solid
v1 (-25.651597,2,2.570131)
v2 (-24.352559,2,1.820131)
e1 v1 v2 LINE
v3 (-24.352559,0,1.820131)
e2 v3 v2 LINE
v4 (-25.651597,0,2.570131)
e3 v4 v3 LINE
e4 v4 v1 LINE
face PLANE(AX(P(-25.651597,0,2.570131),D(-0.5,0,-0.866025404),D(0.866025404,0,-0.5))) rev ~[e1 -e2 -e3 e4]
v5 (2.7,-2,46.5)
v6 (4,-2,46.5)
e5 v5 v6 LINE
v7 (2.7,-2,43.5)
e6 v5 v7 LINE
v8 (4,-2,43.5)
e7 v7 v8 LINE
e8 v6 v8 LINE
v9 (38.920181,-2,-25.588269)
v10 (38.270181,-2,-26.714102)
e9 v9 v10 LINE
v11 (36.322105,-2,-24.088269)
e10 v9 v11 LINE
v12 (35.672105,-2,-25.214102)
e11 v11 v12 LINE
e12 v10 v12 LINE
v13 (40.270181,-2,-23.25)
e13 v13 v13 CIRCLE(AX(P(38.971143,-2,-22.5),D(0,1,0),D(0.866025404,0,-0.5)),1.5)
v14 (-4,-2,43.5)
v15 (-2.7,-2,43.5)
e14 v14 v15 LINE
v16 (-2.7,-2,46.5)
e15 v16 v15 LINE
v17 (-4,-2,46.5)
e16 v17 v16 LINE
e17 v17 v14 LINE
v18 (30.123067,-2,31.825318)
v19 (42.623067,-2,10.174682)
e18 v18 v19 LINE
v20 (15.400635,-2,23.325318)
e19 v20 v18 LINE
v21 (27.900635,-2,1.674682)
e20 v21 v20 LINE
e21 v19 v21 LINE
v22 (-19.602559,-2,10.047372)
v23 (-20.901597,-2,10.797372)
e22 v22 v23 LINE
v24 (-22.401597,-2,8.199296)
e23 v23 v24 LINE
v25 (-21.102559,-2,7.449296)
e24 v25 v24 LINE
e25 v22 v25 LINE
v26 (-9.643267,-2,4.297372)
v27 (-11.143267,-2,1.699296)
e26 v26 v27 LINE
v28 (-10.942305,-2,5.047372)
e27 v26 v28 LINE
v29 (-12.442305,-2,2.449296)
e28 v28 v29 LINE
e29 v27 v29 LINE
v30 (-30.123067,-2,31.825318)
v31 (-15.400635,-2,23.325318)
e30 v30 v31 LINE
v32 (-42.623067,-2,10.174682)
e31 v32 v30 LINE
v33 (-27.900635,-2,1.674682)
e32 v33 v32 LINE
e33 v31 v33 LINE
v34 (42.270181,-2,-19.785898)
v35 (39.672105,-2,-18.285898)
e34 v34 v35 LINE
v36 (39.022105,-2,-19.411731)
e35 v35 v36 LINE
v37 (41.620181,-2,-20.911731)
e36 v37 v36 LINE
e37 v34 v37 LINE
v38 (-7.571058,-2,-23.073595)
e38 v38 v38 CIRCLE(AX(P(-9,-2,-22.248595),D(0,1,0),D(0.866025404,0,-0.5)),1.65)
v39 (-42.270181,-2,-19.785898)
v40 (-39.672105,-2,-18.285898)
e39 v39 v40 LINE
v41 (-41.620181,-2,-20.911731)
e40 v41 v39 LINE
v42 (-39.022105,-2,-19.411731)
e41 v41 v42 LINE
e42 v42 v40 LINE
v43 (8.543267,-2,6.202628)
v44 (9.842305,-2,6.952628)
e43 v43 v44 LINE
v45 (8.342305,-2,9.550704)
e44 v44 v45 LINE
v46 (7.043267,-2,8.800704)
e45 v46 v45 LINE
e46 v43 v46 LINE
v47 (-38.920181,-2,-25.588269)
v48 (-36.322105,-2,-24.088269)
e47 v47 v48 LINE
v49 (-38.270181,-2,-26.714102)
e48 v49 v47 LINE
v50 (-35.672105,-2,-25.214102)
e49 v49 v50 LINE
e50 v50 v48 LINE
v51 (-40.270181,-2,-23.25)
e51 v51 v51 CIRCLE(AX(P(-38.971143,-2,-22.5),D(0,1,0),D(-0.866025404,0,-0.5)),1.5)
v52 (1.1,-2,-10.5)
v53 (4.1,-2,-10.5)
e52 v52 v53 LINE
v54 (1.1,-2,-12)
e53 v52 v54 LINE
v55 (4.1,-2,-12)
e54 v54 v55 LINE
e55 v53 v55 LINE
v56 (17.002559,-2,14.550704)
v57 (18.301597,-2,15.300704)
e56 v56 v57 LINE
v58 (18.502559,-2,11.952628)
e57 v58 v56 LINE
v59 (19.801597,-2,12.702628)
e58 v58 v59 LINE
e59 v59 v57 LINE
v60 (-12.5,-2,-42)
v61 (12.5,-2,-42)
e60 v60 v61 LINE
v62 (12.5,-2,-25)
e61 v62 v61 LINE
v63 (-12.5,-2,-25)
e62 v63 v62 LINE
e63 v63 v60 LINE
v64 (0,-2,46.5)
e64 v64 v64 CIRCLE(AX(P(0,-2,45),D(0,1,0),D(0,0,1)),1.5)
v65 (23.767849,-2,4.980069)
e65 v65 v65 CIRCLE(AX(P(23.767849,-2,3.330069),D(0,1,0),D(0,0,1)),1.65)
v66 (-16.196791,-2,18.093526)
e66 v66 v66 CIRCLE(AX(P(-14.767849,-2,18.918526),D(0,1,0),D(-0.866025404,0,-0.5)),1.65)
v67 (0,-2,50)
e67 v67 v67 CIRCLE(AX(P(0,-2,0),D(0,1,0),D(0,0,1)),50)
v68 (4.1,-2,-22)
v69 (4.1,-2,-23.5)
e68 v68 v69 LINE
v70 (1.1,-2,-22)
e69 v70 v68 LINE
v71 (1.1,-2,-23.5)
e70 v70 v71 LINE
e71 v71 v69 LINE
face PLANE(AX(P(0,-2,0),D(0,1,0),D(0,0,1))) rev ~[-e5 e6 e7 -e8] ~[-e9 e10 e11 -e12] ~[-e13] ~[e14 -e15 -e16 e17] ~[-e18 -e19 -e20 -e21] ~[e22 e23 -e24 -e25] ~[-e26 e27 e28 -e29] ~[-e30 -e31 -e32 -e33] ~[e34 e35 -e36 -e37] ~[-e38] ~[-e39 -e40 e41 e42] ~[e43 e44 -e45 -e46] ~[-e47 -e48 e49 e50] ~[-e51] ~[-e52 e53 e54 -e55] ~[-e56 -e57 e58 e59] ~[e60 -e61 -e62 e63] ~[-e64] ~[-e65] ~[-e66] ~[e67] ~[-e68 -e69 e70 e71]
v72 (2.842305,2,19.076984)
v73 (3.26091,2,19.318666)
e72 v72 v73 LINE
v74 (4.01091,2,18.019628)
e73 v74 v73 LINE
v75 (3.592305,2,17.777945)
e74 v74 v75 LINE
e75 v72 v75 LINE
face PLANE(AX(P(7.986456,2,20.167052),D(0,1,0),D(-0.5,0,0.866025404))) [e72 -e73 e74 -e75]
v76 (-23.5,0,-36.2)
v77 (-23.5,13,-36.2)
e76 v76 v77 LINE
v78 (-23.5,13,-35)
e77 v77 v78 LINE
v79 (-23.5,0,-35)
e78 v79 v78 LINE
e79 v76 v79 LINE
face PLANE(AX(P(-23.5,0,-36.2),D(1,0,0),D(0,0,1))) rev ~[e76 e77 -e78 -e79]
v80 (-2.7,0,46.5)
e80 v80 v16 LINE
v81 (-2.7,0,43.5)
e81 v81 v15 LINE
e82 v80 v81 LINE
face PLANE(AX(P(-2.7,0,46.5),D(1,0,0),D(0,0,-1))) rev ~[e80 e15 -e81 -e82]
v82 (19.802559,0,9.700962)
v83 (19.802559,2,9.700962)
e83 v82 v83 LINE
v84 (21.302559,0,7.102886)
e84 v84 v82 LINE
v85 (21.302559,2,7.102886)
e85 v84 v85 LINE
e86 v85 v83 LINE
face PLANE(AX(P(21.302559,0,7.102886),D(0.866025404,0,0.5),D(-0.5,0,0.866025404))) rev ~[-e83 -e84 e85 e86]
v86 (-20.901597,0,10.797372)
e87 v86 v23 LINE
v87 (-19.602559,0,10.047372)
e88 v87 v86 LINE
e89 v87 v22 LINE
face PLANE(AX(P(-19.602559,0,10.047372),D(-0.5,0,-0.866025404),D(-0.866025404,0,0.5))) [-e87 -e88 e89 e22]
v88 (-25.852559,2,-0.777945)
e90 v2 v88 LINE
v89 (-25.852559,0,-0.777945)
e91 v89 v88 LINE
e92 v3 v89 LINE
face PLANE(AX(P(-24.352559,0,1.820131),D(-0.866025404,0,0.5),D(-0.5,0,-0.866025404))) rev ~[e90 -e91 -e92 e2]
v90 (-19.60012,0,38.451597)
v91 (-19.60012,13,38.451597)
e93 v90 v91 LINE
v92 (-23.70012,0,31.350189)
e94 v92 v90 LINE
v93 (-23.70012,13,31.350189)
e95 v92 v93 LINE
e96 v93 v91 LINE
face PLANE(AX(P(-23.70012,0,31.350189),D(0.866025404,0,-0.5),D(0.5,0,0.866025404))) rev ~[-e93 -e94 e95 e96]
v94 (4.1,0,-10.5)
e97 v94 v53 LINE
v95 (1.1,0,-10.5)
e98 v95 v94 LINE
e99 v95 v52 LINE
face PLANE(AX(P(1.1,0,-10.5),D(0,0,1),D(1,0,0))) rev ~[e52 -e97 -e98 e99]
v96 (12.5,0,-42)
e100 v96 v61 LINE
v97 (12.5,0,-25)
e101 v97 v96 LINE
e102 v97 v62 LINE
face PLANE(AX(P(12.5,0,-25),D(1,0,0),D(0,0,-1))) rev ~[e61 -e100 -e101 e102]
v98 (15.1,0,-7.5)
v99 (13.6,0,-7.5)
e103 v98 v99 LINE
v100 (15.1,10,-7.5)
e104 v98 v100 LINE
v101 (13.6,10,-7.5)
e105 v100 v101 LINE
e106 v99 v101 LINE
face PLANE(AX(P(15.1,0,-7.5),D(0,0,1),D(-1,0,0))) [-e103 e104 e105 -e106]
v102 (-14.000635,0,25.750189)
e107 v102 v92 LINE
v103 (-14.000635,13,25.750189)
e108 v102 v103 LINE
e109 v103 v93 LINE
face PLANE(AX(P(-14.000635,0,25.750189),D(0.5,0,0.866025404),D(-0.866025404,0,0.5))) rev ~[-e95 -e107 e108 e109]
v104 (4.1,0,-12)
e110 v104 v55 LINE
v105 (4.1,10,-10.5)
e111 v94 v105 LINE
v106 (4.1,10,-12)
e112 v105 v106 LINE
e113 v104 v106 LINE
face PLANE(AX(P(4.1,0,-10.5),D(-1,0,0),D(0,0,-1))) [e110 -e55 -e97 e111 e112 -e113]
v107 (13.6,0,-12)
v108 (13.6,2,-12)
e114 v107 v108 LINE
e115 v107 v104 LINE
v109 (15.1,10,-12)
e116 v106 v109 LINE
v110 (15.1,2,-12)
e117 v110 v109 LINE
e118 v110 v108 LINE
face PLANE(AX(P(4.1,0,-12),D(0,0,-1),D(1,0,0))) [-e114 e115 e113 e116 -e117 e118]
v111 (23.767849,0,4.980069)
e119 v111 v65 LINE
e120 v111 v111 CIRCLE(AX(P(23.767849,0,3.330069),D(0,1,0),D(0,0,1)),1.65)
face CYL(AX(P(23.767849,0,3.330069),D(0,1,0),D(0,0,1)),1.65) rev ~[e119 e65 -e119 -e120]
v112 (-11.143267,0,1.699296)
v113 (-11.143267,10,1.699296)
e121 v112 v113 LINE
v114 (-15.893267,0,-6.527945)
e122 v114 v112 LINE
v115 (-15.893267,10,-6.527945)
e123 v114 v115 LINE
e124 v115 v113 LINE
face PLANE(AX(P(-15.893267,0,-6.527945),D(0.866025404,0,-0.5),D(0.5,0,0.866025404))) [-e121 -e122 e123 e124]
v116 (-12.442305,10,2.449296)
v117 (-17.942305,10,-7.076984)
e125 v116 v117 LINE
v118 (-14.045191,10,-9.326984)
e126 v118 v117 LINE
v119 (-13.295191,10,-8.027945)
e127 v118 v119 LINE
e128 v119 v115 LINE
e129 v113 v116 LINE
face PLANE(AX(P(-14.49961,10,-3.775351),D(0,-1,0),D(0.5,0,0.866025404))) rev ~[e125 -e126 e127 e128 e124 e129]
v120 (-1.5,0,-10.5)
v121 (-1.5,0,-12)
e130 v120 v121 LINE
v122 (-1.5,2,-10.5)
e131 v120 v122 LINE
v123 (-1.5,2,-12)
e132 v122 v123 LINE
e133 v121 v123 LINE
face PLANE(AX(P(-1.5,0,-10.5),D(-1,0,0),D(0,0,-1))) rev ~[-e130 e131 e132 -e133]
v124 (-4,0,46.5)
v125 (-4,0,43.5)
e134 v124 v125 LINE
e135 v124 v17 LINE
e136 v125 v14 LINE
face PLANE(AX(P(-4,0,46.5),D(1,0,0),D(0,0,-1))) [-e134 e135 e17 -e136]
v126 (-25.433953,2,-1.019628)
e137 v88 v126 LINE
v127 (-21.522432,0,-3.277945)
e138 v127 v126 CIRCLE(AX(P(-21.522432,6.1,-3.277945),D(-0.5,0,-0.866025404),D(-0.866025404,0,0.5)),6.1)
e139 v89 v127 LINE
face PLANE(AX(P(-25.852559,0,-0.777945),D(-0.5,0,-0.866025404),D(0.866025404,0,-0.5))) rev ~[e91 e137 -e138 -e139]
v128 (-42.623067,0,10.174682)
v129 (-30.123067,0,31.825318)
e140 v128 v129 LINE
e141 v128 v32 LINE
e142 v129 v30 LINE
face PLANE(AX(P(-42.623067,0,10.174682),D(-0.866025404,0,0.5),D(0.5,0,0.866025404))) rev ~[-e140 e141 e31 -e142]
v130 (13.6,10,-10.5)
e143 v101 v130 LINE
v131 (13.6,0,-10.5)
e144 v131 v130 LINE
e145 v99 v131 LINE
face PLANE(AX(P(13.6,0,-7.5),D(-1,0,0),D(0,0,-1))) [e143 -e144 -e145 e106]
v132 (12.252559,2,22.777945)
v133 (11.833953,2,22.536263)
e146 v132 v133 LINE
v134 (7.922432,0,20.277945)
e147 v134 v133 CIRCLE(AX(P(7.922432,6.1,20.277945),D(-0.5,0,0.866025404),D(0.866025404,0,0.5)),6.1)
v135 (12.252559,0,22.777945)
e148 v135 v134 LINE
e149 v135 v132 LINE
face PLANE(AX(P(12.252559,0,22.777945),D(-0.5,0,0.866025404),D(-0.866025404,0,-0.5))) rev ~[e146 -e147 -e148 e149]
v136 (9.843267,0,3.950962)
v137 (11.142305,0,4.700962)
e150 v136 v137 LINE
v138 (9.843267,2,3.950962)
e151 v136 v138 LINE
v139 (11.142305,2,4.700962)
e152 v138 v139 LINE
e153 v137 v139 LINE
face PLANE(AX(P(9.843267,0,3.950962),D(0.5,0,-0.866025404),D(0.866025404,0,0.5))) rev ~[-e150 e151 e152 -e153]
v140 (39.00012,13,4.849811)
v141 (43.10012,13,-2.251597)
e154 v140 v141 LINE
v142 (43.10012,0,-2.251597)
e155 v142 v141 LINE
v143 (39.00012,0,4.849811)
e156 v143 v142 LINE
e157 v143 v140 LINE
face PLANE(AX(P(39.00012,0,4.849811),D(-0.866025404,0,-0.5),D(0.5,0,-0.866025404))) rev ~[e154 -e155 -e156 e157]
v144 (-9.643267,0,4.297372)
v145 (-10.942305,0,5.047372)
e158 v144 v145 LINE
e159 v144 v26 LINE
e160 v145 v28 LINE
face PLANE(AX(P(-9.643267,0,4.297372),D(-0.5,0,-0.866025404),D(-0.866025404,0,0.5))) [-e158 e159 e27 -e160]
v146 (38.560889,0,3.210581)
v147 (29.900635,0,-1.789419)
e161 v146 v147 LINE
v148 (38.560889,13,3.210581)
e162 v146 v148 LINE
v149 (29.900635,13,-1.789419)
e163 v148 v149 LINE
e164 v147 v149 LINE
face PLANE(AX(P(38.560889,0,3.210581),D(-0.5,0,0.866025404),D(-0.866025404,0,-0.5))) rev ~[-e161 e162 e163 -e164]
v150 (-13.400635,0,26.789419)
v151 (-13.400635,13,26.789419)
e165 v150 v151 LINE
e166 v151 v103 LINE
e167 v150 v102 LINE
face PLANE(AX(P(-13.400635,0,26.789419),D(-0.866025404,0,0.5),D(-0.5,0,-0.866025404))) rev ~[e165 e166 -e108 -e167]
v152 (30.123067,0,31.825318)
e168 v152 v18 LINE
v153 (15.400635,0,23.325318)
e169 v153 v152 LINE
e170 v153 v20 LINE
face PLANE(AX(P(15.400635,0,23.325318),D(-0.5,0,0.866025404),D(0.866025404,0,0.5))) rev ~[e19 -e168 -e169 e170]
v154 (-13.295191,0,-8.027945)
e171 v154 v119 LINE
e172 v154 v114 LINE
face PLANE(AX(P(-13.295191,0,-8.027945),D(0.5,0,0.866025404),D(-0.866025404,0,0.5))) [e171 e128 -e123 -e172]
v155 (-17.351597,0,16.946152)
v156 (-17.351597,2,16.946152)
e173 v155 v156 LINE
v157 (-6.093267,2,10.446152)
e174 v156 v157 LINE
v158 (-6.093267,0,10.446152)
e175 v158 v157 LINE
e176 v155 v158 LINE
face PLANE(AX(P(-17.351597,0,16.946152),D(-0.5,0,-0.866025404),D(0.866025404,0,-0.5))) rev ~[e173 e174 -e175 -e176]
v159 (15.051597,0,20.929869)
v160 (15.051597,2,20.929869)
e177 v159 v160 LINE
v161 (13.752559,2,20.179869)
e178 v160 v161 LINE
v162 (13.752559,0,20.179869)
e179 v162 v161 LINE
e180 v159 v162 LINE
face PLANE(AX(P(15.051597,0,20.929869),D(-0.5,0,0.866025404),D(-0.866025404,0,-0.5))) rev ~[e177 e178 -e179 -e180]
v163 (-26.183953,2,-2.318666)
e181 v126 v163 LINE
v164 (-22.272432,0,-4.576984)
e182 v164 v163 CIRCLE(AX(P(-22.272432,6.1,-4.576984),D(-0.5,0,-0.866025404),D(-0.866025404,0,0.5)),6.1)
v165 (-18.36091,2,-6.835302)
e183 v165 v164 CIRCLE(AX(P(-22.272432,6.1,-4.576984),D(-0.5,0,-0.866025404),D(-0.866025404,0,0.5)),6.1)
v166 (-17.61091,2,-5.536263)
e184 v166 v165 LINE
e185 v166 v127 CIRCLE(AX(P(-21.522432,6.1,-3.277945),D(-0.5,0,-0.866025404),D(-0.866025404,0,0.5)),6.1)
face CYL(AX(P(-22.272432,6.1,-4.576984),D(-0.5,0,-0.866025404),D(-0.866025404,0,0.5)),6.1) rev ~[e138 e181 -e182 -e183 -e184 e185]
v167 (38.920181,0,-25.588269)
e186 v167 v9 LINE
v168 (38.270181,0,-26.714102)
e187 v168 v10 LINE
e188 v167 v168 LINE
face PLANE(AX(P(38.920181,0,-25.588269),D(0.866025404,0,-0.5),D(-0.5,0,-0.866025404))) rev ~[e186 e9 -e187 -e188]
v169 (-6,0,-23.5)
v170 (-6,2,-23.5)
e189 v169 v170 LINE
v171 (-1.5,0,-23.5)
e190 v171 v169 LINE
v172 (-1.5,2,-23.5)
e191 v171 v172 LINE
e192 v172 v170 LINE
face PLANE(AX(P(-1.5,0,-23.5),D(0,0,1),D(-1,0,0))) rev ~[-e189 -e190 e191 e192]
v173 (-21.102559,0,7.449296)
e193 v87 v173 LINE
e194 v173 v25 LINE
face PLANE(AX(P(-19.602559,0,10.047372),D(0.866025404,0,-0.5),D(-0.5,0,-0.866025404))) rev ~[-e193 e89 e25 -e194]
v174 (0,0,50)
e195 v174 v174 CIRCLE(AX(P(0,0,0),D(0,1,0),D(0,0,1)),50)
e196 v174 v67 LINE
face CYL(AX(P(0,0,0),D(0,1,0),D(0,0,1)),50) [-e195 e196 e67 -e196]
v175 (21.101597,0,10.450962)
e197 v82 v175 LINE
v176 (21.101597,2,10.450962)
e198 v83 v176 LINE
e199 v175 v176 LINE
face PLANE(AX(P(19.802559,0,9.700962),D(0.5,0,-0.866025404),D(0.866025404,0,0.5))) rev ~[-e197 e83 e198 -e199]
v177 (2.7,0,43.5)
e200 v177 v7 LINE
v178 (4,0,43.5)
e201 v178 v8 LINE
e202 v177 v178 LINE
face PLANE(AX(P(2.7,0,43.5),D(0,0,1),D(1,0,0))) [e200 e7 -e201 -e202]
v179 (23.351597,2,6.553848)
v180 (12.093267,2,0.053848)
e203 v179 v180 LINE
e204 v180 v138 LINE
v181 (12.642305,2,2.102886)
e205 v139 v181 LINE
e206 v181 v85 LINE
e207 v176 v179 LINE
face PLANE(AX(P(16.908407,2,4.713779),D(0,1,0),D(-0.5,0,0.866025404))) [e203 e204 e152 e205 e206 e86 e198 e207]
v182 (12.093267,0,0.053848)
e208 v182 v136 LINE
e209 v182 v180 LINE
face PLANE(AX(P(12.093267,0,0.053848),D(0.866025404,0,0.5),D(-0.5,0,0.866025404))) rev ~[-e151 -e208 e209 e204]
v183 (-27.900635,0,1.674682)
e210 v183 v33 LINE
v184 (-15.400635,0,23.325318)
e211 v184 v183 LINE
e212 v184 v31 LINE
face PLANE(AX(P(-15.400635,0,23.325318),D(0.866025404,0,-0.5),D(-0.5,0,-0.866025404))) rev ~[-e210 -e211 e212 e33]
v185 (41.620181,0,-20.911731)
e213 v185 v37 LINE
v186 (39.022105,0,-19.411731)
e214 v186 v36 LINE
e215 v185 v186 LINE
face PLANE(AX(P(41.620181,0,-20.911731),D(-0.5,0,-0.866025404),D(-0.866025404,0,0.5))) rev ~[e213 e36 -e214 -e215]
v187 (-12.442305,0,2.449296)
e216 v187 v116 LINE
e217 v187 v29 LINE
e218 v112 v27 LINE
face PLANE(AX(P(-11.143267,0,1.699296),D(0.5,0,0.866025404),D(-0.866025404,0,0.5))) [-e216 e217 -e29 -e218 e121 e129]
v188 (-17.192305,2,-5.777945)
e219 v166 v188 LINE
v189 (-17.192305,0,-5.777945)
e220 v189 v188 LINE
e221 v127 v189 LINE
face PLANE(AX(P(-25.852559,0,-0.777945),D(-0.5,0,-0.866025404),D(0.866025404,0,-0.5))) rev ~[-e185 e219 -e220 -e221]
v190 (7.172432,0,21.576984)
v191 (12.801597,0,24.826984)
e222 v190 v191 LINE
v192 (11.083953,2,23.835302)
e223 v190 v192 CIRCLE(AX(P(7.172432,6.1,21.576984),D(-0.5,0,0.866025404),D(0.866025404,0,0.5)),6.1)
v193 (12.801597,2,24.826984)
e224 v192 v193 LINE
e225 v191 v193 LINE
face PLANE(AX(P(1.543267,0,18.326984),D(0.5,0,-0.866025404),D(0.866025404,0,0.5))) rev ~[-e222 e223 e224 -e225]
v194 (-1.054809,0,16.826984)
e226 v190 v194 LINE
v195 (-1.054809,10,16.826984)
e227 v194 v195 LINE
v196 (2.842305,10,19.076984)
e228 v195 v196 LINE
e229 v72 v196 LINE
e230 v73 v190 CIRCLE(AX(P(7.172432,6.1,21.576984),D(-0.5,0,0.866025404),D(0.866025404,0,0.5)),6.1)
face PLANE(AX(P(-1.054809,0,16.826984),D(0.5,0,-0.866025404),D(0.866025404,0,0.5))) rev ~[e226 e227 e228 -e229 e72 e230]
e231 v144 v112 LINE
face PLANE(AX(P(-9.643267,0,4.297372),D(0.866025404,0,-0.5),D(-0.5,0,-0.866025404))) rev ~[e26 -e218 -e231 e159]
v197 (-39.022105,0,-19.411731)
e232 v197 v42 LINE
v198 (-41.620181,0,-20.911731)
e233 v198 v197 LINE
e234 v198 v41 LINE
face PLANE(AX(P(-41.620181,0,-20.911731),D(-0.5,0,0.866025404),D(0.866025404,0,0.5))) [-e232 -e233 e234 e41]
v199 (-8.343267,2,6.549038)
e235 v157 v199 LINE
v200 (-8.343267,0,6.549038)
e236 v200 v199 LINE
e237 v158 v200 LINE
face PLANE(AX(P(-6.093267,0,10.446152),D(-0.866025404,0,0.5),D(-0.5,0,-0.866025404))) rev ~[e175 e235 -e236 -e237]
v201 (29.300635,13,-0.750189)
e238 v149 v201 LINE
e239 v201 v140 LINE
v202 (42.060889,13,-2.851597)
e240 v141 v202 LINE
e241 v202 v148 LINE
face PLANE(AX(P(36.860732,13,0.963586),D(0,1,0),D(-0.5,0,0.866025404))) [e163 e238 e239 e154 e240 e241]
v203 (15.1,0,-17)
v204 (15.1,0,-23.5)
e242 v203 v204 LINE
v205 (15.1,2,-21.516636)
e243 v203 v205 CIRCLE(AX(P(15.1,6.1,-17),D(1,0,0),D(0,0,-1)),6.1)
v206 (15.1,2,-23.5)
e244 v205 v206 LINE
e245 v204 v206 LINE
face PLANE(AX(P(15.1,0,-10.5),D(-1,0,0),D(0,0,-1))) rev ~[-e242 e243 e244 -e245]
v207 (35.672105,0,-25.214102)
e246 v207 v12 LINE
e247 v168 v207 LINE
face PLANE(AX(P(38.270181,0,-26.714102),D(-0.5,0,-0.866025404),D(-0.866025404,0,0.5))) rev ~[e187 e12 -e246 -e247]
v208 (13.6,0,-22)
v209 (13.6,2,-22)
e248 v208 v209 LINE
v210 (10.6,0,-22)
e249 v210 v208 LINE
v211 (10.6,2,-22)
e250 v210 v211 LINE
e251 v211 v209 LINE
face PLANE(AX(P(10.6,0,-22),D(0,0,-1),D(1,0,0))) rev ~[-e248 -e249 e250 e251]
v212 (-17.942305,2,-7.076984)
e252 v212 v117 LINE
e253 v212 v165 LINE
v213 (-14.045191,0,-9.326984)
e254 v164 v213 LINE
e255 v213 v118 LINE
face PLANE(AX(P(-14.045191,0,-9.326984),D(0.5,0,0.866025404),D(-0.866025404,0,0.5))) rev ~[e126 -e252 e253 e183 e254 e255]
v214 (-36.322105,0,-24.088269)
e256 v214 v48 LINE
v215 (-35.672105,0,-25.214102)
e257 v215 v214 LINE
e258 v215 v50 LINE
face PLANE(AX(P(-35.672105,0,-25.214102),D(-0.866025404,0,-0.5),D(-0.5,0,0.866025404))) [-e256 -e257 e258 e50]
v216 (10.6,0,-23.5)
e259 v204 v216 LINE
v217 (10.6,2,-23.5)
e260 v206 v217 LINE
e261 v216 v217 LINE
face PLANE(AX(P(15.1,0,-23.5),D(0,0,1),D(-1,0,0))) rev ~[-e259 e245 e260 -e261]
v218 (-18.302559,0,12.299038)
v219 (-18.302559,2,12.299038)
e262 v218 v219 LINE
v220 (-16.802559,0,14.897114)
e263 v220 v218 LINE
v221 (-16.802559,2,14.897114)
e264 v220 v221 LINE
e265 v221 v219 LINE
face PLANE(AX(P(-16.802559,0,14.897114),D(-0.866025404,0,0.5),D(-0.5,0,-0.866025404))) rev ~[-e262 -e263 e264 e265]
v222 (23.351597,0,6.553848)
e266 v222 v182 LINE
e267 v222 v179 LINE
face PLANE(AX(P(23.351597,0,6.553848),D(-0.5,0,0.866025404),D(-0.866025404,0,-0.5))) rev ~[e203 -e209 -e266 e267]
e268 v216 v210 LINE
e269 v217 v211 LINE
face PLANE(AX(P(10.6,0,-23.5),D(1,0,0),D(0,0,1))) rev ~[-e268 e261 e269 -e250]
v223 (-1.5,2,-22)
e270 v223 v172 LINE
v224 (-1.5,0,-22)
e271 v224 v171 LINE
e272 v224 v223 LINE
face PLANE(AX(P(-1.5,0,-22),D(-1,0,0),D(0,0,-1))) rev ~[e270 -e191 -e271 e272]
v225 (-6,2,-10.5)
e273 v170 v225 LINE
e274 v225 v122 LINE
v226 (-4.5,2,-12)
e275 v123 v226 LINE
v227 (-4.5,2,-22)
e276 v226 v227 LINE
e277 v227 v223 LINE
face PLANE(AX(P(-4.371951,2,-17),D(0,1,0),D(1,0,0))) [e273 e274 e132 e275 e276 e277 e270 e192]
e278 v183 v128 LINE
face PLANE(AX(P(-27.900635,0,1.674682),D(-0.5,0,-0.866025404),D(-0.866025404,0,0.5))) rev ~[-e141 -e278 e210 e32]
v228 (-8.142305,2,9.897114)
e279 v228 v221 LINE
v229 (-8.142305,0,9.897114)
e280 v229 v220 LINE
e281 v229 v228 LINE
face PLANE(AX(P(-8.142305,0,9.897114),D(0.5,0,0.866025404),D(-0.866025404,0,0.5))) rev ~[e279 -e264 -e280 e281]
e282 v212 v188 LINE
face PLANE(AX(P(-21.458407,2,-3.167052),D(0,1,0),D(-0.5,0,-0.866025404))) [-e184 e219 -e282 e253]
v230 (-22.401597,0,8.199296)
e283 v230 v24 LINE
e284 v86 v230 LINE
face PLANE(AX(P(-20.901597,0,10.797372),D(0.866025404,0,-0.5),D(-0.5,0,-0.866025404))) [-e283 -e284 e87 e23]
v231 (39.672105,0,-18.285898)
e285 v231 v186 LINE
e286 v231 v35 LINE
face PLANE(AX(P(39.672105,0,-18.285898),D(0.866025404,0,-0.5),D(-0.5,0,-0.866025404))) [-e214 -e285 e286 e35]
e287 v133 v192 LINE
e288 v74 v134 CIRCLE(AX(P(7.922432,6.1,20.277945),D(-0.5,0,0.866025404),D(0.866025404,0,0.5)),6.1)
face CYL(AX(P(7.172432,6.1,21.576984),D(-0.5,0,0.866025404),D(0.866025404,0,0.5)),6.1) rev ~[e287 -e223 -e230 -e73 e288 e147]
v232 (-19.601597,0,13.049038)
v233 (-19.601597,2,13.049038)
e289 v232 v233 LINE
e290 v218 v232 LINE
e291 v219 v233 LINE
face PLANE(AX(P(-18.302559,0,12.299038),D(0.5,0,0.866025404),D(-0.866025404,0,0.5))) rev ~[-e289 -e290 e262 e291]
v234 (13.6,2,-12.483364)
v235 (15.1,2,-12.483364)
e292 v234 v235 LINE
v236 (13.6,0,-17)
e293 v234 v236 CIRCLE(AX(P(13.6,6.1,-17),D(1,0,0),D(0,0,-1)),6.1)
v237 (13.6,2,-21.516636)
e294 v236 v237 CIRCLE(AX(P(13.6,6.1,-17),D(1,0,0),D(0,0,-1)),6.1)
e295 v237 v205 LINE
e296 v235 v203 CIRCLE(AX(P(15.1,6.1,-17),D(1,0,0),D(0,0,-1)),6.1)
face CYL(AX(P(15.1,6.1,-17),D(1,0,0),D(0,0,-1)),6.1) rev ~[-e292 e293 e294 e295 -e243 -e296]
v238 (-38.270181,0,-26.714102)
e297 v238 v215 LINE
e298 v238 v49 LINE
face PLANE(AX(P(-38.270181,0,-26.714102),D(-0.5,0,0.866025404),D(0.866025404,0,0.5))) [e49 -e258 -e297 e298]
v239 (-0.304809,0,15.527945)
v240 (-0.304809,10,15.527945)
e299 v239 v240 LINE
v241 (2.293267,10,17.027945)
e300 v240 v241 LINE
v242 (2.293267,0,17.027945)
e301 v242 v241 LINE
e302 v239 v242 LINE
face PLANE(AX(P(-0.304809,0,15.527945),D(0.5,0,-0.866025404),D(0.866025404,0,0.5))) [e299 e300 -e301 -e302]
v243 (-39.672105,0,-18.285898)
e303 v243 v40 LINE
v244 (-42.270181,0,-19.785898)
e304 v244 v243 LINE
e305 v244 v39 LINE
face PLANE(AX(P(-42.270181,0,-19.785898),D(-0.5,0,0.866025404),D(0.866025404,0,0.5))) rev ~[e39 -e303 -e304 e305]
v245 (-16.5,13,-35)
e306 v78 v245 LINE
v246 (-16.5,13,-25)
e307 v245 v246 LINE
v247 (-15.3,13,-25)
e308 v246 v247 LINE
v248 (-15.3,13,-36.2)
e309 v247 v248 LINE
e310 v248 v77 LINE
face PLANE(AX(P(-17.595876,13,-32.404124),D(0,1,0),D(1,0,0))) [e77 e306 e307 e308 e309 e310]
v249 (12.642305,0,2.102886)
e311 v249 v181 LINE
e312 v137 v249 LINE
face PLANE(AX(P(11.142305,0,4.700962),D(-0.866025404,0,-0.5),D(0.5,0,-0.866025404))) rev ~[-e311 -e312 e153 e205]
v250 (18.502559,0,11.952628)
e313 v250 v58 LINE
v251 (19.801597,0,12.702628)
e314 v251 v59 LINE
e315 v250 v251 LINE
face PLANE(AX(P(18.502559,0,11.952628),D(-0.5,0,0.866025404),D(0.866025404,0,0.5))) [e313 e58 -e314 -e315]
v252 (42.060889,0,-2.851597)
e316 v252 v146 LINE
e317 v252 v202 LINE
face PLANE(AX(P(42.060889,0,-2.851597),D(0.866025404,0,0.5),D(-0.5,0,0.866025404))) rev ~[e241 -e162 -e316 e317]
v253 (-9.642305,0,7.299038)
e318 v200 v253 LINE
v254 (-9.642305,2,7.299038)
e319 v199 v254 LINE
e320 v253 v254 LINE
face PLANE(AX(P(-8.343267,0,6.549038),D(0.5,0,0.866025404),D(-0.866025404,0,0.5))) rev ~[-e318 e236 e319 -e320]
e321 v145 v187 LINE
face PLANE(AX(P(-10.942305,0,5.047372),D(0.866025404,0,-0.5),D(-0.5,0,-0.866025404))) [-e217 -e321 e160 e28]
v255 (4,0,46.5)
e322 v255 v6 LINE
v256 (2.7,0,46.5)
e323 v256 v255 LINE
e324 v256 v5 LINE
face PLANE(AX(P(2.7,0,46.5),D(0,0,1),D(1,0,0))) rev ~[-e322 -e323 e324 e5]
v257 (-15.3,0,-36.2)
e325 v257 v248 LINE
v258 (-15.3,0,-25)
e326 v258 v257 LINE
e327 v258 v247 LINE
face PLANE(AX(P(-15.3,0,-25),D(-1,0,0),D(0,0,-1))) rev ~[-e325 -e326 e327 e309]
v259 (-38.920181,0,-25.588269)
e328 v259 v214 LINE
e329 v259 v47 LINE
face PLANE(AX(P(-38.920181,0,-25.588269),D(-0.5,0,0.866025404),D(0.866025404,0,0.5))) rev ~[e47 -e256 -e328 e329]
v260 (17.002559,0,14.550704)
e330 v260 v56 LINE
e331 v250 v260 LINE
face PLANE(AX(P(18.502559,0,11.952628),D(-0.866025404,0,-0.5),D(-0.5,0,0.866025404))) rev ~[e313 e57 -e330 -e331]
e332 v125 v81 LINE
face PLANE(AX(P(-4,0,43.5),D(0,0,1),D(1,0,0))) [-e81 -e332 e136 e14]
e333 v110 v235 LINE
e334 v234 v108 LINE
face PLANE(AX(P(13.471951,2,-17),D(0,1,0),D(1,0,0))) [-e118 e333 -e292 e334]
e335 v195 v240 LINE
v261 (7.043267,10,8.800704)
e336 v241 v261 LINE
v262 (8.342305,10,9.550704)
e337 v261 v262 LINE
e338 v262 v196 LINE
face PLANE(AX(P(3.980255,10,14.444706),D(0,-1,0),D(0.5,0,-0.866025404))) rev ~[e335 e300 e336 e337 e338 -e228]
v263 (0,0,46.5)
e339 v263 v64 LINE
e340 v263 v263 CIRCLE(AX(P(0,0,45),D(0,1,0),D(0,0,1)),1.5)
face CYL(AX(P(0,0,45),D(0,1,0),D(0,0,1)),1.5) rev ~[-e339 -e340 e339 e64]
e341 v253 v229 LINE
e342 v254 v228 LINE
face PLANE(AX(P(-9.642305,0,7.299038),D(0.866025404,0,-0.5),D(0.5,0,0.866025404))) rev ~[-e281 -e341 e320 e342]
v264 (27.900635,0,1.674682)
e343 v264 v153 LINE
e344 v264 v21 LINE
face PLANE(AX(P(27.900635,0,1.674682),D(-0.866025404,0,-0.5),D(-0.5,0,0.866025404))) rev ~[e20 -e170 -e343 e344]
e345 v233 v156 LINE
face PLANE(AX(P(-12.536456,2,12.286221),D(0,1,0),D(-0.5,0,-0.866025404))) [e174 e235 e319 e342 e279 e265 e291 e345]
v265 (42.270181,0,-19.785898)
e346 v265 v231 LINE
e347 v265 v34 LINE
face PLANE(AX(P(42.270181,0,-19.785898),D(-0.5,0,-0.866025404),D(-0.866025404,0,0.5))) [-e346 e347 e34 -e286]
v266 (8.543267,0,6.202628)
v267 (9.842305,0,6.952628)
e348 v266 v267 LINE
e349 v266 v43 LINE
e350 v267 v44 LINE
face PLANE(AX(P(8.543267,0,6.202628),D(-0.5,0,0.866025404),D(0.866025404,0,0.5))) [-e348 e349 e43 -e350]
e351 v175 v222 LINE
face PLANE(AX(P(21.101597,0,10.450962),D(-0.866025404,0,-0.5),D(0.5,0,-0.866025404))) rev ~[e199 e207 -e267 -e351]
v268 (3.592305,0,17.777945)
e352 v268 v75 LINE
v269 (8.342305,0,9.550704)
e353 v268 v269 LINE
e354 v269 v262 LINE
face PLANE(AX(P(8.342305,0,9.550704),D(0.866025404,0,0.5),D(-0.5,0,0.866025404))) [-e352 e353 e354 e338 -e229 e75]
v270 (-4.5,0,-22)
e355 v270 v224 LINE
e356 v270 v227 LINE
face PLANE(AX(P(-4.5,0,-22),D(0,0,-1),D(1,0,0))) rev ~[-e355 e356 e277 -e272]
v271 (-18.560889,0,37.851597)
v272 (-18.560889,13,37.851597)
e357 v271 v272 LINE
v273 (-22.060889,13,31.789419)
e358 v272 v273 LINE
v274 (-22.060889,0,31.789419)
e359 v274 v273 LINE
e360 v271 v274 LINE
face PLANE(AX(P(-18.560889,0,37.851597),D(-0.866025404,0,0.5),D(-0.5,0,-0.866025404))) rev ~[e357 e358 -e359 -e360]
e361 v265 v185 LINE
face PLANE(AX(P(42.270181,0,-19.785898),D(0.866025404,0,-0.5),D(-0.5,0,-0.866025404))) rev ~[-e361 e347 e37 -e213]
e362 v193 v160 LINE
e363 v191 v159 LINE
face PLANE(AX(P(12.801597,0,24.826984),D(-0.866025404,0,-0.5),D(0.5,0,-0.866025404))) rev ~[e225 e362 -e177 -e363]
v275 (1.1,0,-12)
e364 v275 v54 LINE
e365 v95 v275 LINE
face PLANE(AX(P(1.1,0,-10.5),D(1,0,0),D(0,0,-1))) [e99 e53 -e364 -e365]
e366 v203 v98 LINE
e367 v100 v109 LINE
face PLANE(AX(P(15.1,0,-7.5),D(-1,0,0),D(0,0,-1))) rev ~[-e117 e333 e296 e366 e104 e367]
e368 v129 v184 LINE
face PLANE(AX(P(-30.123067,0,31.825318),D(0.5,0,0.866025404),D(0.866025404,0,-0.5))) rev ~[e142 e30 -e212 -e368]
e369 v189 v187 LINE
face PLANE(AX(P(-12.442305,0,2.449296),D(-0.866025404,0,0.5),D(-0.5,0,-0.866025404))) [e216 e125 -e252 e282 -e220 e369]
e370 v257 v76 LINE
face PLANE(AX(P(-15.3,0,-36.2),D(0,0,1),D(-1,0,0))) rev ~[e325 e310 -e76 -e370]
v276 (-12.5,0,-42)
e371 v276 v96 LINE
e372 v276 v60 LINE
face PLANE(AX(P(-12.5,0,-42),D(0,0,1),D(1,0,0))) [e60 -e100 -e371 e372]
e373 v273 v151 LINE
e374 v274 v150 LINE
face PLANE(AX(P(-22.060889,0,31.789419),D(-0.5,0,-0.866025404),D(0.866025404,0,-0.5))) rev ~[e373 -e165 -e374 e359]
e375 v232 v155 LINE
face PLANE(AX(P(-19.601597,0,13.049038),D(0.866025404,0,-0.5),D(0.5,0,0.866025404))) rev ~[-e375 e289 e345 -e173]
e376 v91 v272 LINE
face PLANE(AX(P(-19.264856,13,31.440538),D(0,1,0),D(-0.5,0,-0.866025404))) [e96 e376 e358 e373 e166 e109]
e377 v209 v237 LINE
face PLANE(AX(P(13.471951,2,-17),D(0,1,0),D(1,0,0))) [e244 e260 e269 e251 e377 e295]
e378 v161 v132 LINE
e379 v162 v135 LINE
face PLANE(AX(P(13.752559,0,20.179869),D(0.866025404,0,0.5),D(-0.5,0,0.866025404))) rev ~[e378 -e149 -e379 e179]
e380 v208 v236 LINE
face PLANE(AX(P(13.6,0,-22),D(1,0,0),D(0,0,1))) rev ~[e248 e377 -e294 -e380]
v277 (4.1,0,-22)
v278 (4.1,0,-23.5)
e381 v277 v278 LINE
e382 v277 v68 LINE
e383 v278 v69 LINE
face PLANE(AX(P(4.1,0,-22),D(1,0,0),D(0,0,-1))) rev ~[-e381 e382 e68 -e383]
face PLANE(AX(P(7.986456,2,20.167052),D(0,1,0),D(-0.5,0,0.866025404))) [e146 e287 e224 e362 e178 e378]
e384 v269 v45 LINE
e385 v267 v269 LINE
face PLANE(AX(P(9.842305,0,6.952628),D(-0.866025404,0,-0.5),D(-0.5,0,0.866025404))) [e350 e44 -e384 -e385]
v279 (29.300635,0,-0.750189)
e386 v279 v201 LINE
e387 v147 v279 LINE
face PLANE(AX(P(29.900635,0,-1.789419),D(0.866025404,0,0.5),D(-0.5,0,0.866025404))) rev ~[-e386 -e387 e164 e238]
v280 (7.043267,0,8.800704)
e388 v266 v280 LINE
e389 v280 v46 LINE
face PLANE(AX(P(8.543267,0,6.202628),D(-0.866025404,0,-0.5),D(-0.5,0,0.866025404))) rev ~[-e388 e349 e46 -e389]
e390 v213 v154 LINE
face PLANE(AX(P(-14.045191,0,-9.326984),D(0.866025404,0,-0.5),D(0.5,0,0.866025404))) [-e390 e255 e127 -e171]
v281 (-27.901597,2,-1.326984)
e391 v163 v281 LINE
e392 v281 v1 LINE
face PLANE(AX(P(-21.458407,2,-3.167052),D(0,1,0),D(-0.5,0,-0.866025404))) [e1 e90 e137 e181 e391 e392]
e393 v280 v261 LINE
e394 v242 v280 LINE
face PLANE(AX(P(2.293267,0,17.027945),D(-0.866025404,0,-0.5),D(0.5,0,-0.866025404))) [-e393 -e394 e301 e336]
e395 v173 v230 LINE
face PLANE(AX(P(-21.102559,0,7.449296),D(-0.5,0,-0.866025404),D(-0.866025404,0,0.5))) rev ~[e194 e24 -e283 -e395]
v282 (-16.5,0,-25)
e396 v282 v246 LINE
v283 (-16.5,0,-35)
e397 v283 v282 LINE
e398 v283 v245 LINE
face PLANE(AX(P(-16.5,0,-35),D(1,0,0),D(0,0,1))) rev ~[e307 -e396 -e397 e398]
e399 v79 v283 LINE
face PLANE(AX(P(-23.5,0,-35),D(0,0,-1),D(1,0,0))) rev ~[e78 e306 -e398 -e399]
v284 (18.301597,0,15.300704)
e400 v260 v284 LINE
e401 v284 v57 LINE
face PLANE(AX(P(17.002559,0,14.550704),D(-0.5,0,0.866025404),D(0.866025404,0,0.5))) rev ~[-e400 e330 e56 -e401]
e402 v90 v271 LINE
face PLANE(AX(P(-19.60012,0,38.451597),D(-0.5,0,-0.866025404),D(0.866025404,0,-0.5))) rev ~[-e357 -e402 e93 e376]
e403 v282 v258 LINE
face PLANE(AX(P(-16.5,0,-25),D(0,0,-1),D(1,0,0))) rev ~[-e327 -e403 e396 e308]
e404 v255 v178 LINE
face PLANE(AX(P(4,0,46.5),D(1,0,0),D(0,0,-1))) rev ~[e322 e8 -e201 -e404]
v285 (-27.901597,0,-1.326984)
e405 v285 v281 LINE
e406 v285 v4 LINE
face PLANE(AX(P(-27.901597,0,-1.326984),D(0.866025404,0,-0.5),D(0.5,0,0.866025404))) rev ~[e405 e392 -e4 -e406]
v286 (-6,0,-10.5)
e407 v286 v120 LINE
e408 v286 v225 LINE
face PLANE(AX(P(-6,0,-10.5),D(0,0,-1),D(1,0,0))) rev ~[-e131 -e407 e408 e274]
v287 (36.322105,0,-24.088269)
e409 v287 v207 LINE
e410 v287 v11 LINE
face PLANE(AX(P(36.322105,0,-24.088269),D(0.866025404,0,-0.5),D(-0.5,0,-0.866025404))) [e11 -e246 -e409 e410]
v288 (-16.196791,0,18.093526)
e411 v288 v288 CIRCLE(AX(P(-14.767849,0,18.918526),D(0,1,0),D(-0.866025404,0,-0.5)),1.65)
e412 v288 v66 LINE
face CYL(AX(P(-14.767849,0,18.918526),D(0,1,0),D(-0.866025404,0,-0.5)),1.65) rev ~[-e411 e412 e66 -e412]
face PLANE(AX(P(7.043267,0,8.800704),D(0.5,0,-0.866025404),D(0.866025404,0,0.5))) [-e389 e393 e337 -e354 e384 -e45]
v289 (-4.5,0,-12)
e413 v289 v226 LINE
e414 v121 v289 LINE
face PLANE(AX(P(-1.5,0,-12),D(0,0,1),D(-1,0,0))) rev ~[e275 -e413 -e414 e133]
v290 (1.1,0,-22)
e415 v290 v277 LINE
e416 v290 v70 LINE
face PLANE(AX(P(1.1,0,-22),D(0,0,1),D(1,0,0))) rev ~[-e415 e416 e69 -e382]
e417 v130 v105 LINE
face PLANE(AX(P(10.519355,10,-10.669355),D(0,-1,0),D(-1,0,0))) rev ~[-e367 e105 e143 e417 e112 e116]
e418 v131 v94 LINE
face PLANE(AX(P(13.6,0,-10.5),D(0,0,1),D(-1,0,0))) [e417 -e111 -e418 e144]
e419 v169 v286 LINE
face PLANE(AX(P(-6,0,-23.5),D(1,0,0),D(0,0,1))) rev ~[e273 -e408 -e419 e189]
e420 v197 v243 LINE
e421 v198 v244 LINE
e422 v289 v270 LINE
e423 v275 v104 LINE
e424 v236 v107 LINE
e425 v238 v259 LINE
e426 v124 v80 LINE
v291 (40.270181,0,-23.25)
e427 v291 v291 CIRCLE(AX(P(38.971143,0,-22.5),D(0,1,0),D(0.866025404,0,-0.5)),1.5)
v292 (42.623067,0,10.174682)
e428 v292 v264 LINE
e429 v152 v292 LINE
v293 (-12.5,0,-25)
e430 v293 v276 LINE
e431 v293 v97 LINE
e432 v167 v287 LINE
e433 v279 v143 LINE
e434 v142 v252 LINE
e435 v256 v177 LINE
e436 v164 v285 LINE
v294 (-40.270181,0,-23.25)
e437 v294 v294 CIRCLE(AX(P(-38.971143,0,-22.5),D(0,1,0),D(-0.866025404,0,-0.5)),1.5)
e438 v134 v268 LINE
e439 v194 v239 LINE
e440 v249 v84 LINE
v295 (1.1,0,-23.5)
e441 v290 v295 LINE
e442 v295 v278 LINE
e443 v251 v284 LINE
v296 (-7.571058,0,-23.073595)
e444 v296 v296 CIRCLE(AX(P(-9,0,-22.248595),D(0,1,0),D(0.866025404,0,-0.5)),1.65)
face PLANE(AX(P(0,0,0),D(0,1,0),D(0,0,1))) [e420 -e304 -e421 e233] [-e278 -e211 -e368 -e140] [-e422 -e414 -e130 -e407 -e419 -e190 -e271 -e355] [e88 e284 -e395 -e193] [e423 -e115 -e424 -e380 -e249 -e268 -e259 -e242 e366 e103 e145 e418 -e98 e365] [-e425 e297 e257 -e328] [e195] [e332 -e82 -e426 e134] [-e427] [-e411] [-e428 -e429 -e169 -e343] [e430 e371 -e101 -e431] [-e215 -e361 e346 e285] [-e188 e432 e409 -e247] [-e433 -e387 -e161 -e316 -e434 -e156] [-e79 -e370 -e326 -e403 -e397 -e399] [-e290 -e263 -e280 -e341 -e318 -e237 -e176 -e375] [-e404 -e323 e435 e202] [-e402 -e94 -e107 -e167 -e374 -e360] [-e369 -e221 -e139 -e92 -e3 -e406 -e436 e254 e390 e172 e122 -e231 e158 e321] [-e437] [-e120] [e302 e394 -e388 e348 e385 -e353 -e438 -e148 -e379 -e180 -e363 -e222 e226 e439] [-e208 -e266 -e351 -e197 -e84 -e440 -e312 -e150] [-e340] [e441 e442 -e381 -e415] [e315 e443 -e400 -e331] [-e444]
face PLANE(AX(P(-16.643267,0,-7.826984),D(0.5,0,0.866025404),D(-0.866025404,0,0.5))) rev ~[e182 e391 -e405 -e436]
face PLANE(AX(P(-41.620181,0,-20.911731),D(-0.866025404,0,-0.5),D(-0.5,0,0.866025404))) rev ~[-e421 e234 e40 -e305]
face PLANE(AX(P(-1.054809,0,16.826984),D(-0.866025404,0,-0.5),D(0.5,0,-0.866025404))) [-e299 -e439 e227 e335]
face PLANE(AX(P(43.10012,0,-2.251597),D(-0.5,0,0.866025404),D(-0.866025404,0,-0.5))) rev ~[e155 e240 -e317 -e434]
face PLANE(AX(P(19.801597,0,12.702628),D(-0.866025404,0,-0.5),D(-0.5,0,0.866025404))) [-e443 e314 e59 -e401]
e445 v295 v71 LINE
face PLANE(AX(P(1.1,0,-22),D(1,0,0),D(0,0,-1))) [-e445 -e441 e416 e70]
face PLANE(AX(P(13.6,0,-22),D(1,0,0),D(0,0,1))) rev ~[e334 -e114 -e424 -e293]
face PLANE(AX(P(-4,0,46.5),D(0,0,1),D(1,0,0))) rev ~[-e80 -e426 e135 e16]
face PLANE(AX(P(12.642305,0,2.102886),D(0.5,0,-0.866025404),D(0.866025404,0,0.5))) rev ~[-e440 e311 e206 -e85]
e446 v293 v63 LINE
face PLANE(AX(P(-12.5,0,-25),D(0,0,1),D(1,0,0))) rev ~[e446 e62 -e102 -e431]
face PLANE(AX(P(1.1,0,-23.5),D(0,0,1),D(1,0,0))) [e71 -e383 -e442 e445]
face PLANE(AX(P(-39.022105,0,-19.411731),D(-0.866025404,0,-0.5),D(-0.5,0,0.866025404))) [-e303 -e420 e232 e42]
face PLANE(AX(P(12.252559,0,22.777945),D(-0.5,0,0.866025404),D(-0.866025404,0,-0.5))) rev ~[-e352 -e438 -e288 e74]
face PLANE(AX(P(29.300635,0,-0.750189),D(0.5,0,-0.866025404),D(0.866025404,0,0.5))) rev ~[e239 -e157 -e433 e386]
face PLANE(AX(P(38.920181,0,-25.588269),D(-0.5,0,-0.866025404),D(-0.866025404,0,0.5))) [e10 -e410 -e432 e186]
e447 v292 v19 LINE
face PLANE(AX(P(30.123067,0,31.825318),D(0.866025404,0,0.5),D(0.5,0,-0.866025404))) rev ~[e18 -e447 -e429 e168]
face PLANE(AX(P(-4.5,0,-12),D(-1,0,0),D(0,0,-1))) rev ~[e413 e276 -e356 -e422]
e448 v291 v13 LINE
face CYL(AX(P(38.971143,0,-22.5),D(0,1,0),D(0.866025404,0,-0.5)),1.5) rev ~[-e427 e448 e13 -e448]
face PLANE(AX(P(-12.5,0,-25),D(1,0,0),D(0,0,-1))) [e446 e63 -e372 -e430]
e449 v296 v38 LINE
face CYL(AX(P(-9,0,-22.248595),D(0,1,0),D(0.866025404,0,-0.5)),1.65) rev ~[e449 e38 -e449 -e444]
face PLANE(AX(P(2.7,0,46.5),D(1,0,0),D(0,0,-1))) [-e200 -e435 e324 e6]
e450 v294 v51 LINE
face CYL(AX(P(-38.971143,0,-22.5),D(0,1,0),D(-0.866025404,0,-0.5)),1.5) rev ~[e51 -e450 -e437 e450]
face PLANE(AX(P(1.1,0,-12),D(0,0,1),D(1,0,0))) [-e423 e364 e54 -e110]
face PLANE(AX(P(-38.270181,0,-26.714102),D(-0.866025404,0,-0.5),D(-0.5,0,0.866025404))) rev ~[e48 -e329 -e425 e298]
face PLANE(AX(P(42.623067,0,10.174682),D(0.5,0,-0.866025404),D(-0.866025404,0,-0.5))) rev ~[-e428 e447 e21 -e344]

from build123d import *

# Parameters (mm, degrees)
SKETCH_1_R               = 50
SKETCH_1_W               = 25
SKETCH_1_H               = 17
EXTRUDE_1_DEPTH          = 2
EXTRUDE_2_DEPTH          = 2
SKETCH_3_R               = 6.1
CUT_EXTRUDE_1_DEPTH      = 3
SKETCH_4_W               = 3
SKETCH_4_H               = 1.5
CUT_EXTRUDE_2_DEPTH      = 3
PATTERN_CIRCULAR_2_COUNT = 3
SKETCH_5_R               = 1.5
SKETCH_5_W               = 1.3
SKETCH_5_H               = 3
CUT_EXTRUDE_3_DEPTH      = 3
PATTERN_CIRCULAR_3_COUNT = 3
EXTRUDE_3_DEPTH          = 10
PATTERN_CIRCULAR_6_COUNT = 3
EXTRUDE_4_DEPTH          = 13
PATTERN_CIRCULAR_7_COUNT = 3
SKETCH_10_R              = 1.65
CUT_EXTRUDE_4_DEPTH      = 8
PATTERN_CIRCULAR_8_COUNT = 3


with BuildPart() as part:
    # 草图1 → 凸台-拉伸1 (new body)
    with BuildSketch(Plane(origin=(0, 0, 0), x_dir=(1, 0, 0), z_dir=(0, 1, 0))):
        with Locations(Location((0, 0, 0), (0, 0, 270))):
            Circle(SKETCH_1_R)
        Polygon((42.623066959, -10.174682453), (27.900635095, -1.674682453), (15.400635095, -23.325317547), (30.123066959, -31.825317547), align=None, mode=Mode.SUBTRACT)
        with Locations((0, 33.5)):
            Rectangle(SKETCH_1_W, SKETCH_1_H, mode=Mode.SUBTRACT)
        Polygon((-30.123066959, -31.825317547), (-15.400635095, -23.325317547), (-27.900635095, -1.674682453), (-42.623066959, -10.174682453), align=None, mode=Mode.SUBTRACT)
    extrude(amount=-EXTRUDE_1_DEPTH)

    # 草图2 → 凸台-拉伸2 (add)
    with BuildSketch(Plane(origin=(0, 0, 0), x_dir=(1, 0, 0), z_dir=(0, 1, 0))):
        Polygon((10.6, 23.5), (10.6, 22), (13.6, 22), (13.6, 12), (10.6, 12), (10.6, 10.5), (15.1, 10.5), (15.1, 23.5), align=None)
        Polygon((-4.5, 12), (-4.5, 22), (-1.5, 22), (-1.5, 23.5), (-6, 23.5), (-6, 10.5), (-1.5, 10.5), (-1.5, 12), align=None)
    extrude_2 = extrude(amount=EXTRUDE_2_DEPTH)

    # 草图3 → 切除-拉伸1 (cut)
    with BuildSketch(Plane(origin=(15.1, 0, 0), x_dir=(0, 0, -1), z_dir=(1, 0, 0))):
        with Locations((17, 6.1)):
            Circle(SKETCH_3_R)
    cut_extrude_1 = extrude(amount=-CUT_EXTRUDE_1_DEPTH, mode=Mode.SUBTRACT)

    # 草图4 → 切除-拉伸2 (cut)
    with BuildSketch(Plane(origin=(0, 0, 0), x_dir=(1, 0, 0), z_dir=(0, 1, 0))):
        with Locations((2.6, 22.75)):
            Rectangle(SKETCH_4_W, SKETCH_4_H)
        with Locations((2.6, 11.25)):
            Rectangle(SKETCH_4_W, SKETCH_4_H)
    cut_extrude_2 = extrude(amount=-CUT_EXTRUDE_2_DEPTH, mode=Mode.SUBTRACT)

    # 阵列(圆周)2: 凸台-拉伸2, 切除-拉伸1, 切除-拉伸2 ×3 about axis
    pattern_circular_2_axis = Axis((0, 0, 0), (0, 1, 0))
    add([extrude_2.rotate(pattern_circular_2_axis, i * 360 / PATTERN_CIRCULAR_2_COUNT) for i in range(1, PATTERN_CIRCULAR_2_COUNT)])
    add([cut_extrude_1.rotate(pattern_circular_2_axis, i * 360 / PATTERN_CIRCULAR_2_COUNT) for i in range(1, PATTERN_CIRCULAR_2_COUNT)], mode=Mode.SUBTRACT)
    add([cut_extrude_2.rotate(pattern_circular_2_axis, i * 360 / PATTERN_CIRCULAR_2_COUNT) for i in range(1, PATTERN_CIRCULAR_2_COUNT)], mode=Mode.SUBTRACT)

    # 草图5 → 切除-拉伸3 (cut)
    with BuildSketch(Plane(origin=(0, 0, 0), x_dir=(1, 0, 0), z_dir=(0, 1, 0))):
        with Locations(Location((0, -45, 0), (0, 0, 270))):
            Circle(SKETCH_5_R)
        with Locations((-3.35, -45)):
            Rectangle(SKETCH_5_W, SKETCH_5_H)
        with Locations((3.35, -45)):
            Rectangle(SKETCH_5_W, SKETCH_5_H)
    cut_extrude_3 = extrude(amount=-CUT_EXTRUDE_3_DEPTH, mode=Mode.SUBTRACT)

    # 阵列(圆周)3: 切除-拉伸3 ×3 about axis
    pattern_circular_3_axis = Axis((0, 0, 0), (0, 1, 0))
    for i in range(1, PATTERN_CIRCULAR_3_COUNT):
        add(cut_extrude_3.rotate(pattern_circular_3_axis, i * 360 / PATTERN_CIRCULAR_3_COUNT), mode=Mode.SUBTRACT)

    # 草图8 → 凸台-拉伸3 (add)
    with BuildSketch(Plane(origin=(0, 0, 0), x_dir=(1, 0, 0), z_dir=(0, 1, 0))):
        Polygon((4.1, 12), (15.1, 12), (15.1, 10.5), (15.1, 7.5), (13.6, 7.5), (13.6, 10.5), (4.1, 10.5), align=None)
    extrude_3 = extrude(amount=EXTRUDE_3_DEPTH)

    # 阵列(圆周)6: 凸台-拉伸3 ×3 about axis
    pattern_circular_6_axis = Axis((0, 0, 0), (0, 1, 0))
    for i in range(1, PATTERN_CIRCULAR_6_COUNT):
        add(extrude_3.rotate(pattern_circular_6_axis, i * 360 / PATTERN_CIRCULAR_6_COUNT))

    # 草图9 → 凸台-拉伸4 (add)
    with BuildSketch(Plane(origin=(0, 0, 0), x_dir=(1, 0, 0), z_dir=(0, 1, 0))):
        Polygon((-16.5, 35), (-16.5, 25), (-15.3, 25), (-15.3, 36.2), (-23.5, 36.2), (-23.5, 35), align=None)
    extrude_4 = extrude(amount=EXTRUDE_4_DEPTH)

    # 阵列(圆周)7: 凸台-拉伸4 ×3 about axis
    pattern_circular_7_axis = Axis((0, 0, 0), (0, 1, 0))
    for i in range(1, PATTERN_CIRCULAR_7_COUNT):
        add(extrude_4.rotate(pattern_circular_7_axis, i * 360 / PATTERN_CIRCULAR_7_COUNT))

    # 草图10 → 切除-拉伸4 (cut)
    with BuildSketch(Plane(origin=(0, 0, 0), x_dir=(1, 0, 0), z_dir=(0, 1, 0))):
        with Locations(Location((23.767848868, -3.330069097, 0), (0, 0, 270))):
            Circle(SKETCH_10_R)
    cut_extrude_4 = extrude(amount=-CUT_EXTRUDE_4_DEPTH, mode=Mode.SUBTRACT)

    # 阵列(圆周)8: 切除-拉伸4 ×3 about axis
    pattern_circular_8_axis = Axis((0, 0, 0), (0, 1, 0))
    for i in range(1, PATTERN_CIRCULAR_8_COUNT):
        add(cut_extrude_4.rotate(pattern_circular_8_axis, i * 360 / PATTERN_CIRCULAR_8_COUNT), mode=Mode.SUBTRACT)


solid = part.part
